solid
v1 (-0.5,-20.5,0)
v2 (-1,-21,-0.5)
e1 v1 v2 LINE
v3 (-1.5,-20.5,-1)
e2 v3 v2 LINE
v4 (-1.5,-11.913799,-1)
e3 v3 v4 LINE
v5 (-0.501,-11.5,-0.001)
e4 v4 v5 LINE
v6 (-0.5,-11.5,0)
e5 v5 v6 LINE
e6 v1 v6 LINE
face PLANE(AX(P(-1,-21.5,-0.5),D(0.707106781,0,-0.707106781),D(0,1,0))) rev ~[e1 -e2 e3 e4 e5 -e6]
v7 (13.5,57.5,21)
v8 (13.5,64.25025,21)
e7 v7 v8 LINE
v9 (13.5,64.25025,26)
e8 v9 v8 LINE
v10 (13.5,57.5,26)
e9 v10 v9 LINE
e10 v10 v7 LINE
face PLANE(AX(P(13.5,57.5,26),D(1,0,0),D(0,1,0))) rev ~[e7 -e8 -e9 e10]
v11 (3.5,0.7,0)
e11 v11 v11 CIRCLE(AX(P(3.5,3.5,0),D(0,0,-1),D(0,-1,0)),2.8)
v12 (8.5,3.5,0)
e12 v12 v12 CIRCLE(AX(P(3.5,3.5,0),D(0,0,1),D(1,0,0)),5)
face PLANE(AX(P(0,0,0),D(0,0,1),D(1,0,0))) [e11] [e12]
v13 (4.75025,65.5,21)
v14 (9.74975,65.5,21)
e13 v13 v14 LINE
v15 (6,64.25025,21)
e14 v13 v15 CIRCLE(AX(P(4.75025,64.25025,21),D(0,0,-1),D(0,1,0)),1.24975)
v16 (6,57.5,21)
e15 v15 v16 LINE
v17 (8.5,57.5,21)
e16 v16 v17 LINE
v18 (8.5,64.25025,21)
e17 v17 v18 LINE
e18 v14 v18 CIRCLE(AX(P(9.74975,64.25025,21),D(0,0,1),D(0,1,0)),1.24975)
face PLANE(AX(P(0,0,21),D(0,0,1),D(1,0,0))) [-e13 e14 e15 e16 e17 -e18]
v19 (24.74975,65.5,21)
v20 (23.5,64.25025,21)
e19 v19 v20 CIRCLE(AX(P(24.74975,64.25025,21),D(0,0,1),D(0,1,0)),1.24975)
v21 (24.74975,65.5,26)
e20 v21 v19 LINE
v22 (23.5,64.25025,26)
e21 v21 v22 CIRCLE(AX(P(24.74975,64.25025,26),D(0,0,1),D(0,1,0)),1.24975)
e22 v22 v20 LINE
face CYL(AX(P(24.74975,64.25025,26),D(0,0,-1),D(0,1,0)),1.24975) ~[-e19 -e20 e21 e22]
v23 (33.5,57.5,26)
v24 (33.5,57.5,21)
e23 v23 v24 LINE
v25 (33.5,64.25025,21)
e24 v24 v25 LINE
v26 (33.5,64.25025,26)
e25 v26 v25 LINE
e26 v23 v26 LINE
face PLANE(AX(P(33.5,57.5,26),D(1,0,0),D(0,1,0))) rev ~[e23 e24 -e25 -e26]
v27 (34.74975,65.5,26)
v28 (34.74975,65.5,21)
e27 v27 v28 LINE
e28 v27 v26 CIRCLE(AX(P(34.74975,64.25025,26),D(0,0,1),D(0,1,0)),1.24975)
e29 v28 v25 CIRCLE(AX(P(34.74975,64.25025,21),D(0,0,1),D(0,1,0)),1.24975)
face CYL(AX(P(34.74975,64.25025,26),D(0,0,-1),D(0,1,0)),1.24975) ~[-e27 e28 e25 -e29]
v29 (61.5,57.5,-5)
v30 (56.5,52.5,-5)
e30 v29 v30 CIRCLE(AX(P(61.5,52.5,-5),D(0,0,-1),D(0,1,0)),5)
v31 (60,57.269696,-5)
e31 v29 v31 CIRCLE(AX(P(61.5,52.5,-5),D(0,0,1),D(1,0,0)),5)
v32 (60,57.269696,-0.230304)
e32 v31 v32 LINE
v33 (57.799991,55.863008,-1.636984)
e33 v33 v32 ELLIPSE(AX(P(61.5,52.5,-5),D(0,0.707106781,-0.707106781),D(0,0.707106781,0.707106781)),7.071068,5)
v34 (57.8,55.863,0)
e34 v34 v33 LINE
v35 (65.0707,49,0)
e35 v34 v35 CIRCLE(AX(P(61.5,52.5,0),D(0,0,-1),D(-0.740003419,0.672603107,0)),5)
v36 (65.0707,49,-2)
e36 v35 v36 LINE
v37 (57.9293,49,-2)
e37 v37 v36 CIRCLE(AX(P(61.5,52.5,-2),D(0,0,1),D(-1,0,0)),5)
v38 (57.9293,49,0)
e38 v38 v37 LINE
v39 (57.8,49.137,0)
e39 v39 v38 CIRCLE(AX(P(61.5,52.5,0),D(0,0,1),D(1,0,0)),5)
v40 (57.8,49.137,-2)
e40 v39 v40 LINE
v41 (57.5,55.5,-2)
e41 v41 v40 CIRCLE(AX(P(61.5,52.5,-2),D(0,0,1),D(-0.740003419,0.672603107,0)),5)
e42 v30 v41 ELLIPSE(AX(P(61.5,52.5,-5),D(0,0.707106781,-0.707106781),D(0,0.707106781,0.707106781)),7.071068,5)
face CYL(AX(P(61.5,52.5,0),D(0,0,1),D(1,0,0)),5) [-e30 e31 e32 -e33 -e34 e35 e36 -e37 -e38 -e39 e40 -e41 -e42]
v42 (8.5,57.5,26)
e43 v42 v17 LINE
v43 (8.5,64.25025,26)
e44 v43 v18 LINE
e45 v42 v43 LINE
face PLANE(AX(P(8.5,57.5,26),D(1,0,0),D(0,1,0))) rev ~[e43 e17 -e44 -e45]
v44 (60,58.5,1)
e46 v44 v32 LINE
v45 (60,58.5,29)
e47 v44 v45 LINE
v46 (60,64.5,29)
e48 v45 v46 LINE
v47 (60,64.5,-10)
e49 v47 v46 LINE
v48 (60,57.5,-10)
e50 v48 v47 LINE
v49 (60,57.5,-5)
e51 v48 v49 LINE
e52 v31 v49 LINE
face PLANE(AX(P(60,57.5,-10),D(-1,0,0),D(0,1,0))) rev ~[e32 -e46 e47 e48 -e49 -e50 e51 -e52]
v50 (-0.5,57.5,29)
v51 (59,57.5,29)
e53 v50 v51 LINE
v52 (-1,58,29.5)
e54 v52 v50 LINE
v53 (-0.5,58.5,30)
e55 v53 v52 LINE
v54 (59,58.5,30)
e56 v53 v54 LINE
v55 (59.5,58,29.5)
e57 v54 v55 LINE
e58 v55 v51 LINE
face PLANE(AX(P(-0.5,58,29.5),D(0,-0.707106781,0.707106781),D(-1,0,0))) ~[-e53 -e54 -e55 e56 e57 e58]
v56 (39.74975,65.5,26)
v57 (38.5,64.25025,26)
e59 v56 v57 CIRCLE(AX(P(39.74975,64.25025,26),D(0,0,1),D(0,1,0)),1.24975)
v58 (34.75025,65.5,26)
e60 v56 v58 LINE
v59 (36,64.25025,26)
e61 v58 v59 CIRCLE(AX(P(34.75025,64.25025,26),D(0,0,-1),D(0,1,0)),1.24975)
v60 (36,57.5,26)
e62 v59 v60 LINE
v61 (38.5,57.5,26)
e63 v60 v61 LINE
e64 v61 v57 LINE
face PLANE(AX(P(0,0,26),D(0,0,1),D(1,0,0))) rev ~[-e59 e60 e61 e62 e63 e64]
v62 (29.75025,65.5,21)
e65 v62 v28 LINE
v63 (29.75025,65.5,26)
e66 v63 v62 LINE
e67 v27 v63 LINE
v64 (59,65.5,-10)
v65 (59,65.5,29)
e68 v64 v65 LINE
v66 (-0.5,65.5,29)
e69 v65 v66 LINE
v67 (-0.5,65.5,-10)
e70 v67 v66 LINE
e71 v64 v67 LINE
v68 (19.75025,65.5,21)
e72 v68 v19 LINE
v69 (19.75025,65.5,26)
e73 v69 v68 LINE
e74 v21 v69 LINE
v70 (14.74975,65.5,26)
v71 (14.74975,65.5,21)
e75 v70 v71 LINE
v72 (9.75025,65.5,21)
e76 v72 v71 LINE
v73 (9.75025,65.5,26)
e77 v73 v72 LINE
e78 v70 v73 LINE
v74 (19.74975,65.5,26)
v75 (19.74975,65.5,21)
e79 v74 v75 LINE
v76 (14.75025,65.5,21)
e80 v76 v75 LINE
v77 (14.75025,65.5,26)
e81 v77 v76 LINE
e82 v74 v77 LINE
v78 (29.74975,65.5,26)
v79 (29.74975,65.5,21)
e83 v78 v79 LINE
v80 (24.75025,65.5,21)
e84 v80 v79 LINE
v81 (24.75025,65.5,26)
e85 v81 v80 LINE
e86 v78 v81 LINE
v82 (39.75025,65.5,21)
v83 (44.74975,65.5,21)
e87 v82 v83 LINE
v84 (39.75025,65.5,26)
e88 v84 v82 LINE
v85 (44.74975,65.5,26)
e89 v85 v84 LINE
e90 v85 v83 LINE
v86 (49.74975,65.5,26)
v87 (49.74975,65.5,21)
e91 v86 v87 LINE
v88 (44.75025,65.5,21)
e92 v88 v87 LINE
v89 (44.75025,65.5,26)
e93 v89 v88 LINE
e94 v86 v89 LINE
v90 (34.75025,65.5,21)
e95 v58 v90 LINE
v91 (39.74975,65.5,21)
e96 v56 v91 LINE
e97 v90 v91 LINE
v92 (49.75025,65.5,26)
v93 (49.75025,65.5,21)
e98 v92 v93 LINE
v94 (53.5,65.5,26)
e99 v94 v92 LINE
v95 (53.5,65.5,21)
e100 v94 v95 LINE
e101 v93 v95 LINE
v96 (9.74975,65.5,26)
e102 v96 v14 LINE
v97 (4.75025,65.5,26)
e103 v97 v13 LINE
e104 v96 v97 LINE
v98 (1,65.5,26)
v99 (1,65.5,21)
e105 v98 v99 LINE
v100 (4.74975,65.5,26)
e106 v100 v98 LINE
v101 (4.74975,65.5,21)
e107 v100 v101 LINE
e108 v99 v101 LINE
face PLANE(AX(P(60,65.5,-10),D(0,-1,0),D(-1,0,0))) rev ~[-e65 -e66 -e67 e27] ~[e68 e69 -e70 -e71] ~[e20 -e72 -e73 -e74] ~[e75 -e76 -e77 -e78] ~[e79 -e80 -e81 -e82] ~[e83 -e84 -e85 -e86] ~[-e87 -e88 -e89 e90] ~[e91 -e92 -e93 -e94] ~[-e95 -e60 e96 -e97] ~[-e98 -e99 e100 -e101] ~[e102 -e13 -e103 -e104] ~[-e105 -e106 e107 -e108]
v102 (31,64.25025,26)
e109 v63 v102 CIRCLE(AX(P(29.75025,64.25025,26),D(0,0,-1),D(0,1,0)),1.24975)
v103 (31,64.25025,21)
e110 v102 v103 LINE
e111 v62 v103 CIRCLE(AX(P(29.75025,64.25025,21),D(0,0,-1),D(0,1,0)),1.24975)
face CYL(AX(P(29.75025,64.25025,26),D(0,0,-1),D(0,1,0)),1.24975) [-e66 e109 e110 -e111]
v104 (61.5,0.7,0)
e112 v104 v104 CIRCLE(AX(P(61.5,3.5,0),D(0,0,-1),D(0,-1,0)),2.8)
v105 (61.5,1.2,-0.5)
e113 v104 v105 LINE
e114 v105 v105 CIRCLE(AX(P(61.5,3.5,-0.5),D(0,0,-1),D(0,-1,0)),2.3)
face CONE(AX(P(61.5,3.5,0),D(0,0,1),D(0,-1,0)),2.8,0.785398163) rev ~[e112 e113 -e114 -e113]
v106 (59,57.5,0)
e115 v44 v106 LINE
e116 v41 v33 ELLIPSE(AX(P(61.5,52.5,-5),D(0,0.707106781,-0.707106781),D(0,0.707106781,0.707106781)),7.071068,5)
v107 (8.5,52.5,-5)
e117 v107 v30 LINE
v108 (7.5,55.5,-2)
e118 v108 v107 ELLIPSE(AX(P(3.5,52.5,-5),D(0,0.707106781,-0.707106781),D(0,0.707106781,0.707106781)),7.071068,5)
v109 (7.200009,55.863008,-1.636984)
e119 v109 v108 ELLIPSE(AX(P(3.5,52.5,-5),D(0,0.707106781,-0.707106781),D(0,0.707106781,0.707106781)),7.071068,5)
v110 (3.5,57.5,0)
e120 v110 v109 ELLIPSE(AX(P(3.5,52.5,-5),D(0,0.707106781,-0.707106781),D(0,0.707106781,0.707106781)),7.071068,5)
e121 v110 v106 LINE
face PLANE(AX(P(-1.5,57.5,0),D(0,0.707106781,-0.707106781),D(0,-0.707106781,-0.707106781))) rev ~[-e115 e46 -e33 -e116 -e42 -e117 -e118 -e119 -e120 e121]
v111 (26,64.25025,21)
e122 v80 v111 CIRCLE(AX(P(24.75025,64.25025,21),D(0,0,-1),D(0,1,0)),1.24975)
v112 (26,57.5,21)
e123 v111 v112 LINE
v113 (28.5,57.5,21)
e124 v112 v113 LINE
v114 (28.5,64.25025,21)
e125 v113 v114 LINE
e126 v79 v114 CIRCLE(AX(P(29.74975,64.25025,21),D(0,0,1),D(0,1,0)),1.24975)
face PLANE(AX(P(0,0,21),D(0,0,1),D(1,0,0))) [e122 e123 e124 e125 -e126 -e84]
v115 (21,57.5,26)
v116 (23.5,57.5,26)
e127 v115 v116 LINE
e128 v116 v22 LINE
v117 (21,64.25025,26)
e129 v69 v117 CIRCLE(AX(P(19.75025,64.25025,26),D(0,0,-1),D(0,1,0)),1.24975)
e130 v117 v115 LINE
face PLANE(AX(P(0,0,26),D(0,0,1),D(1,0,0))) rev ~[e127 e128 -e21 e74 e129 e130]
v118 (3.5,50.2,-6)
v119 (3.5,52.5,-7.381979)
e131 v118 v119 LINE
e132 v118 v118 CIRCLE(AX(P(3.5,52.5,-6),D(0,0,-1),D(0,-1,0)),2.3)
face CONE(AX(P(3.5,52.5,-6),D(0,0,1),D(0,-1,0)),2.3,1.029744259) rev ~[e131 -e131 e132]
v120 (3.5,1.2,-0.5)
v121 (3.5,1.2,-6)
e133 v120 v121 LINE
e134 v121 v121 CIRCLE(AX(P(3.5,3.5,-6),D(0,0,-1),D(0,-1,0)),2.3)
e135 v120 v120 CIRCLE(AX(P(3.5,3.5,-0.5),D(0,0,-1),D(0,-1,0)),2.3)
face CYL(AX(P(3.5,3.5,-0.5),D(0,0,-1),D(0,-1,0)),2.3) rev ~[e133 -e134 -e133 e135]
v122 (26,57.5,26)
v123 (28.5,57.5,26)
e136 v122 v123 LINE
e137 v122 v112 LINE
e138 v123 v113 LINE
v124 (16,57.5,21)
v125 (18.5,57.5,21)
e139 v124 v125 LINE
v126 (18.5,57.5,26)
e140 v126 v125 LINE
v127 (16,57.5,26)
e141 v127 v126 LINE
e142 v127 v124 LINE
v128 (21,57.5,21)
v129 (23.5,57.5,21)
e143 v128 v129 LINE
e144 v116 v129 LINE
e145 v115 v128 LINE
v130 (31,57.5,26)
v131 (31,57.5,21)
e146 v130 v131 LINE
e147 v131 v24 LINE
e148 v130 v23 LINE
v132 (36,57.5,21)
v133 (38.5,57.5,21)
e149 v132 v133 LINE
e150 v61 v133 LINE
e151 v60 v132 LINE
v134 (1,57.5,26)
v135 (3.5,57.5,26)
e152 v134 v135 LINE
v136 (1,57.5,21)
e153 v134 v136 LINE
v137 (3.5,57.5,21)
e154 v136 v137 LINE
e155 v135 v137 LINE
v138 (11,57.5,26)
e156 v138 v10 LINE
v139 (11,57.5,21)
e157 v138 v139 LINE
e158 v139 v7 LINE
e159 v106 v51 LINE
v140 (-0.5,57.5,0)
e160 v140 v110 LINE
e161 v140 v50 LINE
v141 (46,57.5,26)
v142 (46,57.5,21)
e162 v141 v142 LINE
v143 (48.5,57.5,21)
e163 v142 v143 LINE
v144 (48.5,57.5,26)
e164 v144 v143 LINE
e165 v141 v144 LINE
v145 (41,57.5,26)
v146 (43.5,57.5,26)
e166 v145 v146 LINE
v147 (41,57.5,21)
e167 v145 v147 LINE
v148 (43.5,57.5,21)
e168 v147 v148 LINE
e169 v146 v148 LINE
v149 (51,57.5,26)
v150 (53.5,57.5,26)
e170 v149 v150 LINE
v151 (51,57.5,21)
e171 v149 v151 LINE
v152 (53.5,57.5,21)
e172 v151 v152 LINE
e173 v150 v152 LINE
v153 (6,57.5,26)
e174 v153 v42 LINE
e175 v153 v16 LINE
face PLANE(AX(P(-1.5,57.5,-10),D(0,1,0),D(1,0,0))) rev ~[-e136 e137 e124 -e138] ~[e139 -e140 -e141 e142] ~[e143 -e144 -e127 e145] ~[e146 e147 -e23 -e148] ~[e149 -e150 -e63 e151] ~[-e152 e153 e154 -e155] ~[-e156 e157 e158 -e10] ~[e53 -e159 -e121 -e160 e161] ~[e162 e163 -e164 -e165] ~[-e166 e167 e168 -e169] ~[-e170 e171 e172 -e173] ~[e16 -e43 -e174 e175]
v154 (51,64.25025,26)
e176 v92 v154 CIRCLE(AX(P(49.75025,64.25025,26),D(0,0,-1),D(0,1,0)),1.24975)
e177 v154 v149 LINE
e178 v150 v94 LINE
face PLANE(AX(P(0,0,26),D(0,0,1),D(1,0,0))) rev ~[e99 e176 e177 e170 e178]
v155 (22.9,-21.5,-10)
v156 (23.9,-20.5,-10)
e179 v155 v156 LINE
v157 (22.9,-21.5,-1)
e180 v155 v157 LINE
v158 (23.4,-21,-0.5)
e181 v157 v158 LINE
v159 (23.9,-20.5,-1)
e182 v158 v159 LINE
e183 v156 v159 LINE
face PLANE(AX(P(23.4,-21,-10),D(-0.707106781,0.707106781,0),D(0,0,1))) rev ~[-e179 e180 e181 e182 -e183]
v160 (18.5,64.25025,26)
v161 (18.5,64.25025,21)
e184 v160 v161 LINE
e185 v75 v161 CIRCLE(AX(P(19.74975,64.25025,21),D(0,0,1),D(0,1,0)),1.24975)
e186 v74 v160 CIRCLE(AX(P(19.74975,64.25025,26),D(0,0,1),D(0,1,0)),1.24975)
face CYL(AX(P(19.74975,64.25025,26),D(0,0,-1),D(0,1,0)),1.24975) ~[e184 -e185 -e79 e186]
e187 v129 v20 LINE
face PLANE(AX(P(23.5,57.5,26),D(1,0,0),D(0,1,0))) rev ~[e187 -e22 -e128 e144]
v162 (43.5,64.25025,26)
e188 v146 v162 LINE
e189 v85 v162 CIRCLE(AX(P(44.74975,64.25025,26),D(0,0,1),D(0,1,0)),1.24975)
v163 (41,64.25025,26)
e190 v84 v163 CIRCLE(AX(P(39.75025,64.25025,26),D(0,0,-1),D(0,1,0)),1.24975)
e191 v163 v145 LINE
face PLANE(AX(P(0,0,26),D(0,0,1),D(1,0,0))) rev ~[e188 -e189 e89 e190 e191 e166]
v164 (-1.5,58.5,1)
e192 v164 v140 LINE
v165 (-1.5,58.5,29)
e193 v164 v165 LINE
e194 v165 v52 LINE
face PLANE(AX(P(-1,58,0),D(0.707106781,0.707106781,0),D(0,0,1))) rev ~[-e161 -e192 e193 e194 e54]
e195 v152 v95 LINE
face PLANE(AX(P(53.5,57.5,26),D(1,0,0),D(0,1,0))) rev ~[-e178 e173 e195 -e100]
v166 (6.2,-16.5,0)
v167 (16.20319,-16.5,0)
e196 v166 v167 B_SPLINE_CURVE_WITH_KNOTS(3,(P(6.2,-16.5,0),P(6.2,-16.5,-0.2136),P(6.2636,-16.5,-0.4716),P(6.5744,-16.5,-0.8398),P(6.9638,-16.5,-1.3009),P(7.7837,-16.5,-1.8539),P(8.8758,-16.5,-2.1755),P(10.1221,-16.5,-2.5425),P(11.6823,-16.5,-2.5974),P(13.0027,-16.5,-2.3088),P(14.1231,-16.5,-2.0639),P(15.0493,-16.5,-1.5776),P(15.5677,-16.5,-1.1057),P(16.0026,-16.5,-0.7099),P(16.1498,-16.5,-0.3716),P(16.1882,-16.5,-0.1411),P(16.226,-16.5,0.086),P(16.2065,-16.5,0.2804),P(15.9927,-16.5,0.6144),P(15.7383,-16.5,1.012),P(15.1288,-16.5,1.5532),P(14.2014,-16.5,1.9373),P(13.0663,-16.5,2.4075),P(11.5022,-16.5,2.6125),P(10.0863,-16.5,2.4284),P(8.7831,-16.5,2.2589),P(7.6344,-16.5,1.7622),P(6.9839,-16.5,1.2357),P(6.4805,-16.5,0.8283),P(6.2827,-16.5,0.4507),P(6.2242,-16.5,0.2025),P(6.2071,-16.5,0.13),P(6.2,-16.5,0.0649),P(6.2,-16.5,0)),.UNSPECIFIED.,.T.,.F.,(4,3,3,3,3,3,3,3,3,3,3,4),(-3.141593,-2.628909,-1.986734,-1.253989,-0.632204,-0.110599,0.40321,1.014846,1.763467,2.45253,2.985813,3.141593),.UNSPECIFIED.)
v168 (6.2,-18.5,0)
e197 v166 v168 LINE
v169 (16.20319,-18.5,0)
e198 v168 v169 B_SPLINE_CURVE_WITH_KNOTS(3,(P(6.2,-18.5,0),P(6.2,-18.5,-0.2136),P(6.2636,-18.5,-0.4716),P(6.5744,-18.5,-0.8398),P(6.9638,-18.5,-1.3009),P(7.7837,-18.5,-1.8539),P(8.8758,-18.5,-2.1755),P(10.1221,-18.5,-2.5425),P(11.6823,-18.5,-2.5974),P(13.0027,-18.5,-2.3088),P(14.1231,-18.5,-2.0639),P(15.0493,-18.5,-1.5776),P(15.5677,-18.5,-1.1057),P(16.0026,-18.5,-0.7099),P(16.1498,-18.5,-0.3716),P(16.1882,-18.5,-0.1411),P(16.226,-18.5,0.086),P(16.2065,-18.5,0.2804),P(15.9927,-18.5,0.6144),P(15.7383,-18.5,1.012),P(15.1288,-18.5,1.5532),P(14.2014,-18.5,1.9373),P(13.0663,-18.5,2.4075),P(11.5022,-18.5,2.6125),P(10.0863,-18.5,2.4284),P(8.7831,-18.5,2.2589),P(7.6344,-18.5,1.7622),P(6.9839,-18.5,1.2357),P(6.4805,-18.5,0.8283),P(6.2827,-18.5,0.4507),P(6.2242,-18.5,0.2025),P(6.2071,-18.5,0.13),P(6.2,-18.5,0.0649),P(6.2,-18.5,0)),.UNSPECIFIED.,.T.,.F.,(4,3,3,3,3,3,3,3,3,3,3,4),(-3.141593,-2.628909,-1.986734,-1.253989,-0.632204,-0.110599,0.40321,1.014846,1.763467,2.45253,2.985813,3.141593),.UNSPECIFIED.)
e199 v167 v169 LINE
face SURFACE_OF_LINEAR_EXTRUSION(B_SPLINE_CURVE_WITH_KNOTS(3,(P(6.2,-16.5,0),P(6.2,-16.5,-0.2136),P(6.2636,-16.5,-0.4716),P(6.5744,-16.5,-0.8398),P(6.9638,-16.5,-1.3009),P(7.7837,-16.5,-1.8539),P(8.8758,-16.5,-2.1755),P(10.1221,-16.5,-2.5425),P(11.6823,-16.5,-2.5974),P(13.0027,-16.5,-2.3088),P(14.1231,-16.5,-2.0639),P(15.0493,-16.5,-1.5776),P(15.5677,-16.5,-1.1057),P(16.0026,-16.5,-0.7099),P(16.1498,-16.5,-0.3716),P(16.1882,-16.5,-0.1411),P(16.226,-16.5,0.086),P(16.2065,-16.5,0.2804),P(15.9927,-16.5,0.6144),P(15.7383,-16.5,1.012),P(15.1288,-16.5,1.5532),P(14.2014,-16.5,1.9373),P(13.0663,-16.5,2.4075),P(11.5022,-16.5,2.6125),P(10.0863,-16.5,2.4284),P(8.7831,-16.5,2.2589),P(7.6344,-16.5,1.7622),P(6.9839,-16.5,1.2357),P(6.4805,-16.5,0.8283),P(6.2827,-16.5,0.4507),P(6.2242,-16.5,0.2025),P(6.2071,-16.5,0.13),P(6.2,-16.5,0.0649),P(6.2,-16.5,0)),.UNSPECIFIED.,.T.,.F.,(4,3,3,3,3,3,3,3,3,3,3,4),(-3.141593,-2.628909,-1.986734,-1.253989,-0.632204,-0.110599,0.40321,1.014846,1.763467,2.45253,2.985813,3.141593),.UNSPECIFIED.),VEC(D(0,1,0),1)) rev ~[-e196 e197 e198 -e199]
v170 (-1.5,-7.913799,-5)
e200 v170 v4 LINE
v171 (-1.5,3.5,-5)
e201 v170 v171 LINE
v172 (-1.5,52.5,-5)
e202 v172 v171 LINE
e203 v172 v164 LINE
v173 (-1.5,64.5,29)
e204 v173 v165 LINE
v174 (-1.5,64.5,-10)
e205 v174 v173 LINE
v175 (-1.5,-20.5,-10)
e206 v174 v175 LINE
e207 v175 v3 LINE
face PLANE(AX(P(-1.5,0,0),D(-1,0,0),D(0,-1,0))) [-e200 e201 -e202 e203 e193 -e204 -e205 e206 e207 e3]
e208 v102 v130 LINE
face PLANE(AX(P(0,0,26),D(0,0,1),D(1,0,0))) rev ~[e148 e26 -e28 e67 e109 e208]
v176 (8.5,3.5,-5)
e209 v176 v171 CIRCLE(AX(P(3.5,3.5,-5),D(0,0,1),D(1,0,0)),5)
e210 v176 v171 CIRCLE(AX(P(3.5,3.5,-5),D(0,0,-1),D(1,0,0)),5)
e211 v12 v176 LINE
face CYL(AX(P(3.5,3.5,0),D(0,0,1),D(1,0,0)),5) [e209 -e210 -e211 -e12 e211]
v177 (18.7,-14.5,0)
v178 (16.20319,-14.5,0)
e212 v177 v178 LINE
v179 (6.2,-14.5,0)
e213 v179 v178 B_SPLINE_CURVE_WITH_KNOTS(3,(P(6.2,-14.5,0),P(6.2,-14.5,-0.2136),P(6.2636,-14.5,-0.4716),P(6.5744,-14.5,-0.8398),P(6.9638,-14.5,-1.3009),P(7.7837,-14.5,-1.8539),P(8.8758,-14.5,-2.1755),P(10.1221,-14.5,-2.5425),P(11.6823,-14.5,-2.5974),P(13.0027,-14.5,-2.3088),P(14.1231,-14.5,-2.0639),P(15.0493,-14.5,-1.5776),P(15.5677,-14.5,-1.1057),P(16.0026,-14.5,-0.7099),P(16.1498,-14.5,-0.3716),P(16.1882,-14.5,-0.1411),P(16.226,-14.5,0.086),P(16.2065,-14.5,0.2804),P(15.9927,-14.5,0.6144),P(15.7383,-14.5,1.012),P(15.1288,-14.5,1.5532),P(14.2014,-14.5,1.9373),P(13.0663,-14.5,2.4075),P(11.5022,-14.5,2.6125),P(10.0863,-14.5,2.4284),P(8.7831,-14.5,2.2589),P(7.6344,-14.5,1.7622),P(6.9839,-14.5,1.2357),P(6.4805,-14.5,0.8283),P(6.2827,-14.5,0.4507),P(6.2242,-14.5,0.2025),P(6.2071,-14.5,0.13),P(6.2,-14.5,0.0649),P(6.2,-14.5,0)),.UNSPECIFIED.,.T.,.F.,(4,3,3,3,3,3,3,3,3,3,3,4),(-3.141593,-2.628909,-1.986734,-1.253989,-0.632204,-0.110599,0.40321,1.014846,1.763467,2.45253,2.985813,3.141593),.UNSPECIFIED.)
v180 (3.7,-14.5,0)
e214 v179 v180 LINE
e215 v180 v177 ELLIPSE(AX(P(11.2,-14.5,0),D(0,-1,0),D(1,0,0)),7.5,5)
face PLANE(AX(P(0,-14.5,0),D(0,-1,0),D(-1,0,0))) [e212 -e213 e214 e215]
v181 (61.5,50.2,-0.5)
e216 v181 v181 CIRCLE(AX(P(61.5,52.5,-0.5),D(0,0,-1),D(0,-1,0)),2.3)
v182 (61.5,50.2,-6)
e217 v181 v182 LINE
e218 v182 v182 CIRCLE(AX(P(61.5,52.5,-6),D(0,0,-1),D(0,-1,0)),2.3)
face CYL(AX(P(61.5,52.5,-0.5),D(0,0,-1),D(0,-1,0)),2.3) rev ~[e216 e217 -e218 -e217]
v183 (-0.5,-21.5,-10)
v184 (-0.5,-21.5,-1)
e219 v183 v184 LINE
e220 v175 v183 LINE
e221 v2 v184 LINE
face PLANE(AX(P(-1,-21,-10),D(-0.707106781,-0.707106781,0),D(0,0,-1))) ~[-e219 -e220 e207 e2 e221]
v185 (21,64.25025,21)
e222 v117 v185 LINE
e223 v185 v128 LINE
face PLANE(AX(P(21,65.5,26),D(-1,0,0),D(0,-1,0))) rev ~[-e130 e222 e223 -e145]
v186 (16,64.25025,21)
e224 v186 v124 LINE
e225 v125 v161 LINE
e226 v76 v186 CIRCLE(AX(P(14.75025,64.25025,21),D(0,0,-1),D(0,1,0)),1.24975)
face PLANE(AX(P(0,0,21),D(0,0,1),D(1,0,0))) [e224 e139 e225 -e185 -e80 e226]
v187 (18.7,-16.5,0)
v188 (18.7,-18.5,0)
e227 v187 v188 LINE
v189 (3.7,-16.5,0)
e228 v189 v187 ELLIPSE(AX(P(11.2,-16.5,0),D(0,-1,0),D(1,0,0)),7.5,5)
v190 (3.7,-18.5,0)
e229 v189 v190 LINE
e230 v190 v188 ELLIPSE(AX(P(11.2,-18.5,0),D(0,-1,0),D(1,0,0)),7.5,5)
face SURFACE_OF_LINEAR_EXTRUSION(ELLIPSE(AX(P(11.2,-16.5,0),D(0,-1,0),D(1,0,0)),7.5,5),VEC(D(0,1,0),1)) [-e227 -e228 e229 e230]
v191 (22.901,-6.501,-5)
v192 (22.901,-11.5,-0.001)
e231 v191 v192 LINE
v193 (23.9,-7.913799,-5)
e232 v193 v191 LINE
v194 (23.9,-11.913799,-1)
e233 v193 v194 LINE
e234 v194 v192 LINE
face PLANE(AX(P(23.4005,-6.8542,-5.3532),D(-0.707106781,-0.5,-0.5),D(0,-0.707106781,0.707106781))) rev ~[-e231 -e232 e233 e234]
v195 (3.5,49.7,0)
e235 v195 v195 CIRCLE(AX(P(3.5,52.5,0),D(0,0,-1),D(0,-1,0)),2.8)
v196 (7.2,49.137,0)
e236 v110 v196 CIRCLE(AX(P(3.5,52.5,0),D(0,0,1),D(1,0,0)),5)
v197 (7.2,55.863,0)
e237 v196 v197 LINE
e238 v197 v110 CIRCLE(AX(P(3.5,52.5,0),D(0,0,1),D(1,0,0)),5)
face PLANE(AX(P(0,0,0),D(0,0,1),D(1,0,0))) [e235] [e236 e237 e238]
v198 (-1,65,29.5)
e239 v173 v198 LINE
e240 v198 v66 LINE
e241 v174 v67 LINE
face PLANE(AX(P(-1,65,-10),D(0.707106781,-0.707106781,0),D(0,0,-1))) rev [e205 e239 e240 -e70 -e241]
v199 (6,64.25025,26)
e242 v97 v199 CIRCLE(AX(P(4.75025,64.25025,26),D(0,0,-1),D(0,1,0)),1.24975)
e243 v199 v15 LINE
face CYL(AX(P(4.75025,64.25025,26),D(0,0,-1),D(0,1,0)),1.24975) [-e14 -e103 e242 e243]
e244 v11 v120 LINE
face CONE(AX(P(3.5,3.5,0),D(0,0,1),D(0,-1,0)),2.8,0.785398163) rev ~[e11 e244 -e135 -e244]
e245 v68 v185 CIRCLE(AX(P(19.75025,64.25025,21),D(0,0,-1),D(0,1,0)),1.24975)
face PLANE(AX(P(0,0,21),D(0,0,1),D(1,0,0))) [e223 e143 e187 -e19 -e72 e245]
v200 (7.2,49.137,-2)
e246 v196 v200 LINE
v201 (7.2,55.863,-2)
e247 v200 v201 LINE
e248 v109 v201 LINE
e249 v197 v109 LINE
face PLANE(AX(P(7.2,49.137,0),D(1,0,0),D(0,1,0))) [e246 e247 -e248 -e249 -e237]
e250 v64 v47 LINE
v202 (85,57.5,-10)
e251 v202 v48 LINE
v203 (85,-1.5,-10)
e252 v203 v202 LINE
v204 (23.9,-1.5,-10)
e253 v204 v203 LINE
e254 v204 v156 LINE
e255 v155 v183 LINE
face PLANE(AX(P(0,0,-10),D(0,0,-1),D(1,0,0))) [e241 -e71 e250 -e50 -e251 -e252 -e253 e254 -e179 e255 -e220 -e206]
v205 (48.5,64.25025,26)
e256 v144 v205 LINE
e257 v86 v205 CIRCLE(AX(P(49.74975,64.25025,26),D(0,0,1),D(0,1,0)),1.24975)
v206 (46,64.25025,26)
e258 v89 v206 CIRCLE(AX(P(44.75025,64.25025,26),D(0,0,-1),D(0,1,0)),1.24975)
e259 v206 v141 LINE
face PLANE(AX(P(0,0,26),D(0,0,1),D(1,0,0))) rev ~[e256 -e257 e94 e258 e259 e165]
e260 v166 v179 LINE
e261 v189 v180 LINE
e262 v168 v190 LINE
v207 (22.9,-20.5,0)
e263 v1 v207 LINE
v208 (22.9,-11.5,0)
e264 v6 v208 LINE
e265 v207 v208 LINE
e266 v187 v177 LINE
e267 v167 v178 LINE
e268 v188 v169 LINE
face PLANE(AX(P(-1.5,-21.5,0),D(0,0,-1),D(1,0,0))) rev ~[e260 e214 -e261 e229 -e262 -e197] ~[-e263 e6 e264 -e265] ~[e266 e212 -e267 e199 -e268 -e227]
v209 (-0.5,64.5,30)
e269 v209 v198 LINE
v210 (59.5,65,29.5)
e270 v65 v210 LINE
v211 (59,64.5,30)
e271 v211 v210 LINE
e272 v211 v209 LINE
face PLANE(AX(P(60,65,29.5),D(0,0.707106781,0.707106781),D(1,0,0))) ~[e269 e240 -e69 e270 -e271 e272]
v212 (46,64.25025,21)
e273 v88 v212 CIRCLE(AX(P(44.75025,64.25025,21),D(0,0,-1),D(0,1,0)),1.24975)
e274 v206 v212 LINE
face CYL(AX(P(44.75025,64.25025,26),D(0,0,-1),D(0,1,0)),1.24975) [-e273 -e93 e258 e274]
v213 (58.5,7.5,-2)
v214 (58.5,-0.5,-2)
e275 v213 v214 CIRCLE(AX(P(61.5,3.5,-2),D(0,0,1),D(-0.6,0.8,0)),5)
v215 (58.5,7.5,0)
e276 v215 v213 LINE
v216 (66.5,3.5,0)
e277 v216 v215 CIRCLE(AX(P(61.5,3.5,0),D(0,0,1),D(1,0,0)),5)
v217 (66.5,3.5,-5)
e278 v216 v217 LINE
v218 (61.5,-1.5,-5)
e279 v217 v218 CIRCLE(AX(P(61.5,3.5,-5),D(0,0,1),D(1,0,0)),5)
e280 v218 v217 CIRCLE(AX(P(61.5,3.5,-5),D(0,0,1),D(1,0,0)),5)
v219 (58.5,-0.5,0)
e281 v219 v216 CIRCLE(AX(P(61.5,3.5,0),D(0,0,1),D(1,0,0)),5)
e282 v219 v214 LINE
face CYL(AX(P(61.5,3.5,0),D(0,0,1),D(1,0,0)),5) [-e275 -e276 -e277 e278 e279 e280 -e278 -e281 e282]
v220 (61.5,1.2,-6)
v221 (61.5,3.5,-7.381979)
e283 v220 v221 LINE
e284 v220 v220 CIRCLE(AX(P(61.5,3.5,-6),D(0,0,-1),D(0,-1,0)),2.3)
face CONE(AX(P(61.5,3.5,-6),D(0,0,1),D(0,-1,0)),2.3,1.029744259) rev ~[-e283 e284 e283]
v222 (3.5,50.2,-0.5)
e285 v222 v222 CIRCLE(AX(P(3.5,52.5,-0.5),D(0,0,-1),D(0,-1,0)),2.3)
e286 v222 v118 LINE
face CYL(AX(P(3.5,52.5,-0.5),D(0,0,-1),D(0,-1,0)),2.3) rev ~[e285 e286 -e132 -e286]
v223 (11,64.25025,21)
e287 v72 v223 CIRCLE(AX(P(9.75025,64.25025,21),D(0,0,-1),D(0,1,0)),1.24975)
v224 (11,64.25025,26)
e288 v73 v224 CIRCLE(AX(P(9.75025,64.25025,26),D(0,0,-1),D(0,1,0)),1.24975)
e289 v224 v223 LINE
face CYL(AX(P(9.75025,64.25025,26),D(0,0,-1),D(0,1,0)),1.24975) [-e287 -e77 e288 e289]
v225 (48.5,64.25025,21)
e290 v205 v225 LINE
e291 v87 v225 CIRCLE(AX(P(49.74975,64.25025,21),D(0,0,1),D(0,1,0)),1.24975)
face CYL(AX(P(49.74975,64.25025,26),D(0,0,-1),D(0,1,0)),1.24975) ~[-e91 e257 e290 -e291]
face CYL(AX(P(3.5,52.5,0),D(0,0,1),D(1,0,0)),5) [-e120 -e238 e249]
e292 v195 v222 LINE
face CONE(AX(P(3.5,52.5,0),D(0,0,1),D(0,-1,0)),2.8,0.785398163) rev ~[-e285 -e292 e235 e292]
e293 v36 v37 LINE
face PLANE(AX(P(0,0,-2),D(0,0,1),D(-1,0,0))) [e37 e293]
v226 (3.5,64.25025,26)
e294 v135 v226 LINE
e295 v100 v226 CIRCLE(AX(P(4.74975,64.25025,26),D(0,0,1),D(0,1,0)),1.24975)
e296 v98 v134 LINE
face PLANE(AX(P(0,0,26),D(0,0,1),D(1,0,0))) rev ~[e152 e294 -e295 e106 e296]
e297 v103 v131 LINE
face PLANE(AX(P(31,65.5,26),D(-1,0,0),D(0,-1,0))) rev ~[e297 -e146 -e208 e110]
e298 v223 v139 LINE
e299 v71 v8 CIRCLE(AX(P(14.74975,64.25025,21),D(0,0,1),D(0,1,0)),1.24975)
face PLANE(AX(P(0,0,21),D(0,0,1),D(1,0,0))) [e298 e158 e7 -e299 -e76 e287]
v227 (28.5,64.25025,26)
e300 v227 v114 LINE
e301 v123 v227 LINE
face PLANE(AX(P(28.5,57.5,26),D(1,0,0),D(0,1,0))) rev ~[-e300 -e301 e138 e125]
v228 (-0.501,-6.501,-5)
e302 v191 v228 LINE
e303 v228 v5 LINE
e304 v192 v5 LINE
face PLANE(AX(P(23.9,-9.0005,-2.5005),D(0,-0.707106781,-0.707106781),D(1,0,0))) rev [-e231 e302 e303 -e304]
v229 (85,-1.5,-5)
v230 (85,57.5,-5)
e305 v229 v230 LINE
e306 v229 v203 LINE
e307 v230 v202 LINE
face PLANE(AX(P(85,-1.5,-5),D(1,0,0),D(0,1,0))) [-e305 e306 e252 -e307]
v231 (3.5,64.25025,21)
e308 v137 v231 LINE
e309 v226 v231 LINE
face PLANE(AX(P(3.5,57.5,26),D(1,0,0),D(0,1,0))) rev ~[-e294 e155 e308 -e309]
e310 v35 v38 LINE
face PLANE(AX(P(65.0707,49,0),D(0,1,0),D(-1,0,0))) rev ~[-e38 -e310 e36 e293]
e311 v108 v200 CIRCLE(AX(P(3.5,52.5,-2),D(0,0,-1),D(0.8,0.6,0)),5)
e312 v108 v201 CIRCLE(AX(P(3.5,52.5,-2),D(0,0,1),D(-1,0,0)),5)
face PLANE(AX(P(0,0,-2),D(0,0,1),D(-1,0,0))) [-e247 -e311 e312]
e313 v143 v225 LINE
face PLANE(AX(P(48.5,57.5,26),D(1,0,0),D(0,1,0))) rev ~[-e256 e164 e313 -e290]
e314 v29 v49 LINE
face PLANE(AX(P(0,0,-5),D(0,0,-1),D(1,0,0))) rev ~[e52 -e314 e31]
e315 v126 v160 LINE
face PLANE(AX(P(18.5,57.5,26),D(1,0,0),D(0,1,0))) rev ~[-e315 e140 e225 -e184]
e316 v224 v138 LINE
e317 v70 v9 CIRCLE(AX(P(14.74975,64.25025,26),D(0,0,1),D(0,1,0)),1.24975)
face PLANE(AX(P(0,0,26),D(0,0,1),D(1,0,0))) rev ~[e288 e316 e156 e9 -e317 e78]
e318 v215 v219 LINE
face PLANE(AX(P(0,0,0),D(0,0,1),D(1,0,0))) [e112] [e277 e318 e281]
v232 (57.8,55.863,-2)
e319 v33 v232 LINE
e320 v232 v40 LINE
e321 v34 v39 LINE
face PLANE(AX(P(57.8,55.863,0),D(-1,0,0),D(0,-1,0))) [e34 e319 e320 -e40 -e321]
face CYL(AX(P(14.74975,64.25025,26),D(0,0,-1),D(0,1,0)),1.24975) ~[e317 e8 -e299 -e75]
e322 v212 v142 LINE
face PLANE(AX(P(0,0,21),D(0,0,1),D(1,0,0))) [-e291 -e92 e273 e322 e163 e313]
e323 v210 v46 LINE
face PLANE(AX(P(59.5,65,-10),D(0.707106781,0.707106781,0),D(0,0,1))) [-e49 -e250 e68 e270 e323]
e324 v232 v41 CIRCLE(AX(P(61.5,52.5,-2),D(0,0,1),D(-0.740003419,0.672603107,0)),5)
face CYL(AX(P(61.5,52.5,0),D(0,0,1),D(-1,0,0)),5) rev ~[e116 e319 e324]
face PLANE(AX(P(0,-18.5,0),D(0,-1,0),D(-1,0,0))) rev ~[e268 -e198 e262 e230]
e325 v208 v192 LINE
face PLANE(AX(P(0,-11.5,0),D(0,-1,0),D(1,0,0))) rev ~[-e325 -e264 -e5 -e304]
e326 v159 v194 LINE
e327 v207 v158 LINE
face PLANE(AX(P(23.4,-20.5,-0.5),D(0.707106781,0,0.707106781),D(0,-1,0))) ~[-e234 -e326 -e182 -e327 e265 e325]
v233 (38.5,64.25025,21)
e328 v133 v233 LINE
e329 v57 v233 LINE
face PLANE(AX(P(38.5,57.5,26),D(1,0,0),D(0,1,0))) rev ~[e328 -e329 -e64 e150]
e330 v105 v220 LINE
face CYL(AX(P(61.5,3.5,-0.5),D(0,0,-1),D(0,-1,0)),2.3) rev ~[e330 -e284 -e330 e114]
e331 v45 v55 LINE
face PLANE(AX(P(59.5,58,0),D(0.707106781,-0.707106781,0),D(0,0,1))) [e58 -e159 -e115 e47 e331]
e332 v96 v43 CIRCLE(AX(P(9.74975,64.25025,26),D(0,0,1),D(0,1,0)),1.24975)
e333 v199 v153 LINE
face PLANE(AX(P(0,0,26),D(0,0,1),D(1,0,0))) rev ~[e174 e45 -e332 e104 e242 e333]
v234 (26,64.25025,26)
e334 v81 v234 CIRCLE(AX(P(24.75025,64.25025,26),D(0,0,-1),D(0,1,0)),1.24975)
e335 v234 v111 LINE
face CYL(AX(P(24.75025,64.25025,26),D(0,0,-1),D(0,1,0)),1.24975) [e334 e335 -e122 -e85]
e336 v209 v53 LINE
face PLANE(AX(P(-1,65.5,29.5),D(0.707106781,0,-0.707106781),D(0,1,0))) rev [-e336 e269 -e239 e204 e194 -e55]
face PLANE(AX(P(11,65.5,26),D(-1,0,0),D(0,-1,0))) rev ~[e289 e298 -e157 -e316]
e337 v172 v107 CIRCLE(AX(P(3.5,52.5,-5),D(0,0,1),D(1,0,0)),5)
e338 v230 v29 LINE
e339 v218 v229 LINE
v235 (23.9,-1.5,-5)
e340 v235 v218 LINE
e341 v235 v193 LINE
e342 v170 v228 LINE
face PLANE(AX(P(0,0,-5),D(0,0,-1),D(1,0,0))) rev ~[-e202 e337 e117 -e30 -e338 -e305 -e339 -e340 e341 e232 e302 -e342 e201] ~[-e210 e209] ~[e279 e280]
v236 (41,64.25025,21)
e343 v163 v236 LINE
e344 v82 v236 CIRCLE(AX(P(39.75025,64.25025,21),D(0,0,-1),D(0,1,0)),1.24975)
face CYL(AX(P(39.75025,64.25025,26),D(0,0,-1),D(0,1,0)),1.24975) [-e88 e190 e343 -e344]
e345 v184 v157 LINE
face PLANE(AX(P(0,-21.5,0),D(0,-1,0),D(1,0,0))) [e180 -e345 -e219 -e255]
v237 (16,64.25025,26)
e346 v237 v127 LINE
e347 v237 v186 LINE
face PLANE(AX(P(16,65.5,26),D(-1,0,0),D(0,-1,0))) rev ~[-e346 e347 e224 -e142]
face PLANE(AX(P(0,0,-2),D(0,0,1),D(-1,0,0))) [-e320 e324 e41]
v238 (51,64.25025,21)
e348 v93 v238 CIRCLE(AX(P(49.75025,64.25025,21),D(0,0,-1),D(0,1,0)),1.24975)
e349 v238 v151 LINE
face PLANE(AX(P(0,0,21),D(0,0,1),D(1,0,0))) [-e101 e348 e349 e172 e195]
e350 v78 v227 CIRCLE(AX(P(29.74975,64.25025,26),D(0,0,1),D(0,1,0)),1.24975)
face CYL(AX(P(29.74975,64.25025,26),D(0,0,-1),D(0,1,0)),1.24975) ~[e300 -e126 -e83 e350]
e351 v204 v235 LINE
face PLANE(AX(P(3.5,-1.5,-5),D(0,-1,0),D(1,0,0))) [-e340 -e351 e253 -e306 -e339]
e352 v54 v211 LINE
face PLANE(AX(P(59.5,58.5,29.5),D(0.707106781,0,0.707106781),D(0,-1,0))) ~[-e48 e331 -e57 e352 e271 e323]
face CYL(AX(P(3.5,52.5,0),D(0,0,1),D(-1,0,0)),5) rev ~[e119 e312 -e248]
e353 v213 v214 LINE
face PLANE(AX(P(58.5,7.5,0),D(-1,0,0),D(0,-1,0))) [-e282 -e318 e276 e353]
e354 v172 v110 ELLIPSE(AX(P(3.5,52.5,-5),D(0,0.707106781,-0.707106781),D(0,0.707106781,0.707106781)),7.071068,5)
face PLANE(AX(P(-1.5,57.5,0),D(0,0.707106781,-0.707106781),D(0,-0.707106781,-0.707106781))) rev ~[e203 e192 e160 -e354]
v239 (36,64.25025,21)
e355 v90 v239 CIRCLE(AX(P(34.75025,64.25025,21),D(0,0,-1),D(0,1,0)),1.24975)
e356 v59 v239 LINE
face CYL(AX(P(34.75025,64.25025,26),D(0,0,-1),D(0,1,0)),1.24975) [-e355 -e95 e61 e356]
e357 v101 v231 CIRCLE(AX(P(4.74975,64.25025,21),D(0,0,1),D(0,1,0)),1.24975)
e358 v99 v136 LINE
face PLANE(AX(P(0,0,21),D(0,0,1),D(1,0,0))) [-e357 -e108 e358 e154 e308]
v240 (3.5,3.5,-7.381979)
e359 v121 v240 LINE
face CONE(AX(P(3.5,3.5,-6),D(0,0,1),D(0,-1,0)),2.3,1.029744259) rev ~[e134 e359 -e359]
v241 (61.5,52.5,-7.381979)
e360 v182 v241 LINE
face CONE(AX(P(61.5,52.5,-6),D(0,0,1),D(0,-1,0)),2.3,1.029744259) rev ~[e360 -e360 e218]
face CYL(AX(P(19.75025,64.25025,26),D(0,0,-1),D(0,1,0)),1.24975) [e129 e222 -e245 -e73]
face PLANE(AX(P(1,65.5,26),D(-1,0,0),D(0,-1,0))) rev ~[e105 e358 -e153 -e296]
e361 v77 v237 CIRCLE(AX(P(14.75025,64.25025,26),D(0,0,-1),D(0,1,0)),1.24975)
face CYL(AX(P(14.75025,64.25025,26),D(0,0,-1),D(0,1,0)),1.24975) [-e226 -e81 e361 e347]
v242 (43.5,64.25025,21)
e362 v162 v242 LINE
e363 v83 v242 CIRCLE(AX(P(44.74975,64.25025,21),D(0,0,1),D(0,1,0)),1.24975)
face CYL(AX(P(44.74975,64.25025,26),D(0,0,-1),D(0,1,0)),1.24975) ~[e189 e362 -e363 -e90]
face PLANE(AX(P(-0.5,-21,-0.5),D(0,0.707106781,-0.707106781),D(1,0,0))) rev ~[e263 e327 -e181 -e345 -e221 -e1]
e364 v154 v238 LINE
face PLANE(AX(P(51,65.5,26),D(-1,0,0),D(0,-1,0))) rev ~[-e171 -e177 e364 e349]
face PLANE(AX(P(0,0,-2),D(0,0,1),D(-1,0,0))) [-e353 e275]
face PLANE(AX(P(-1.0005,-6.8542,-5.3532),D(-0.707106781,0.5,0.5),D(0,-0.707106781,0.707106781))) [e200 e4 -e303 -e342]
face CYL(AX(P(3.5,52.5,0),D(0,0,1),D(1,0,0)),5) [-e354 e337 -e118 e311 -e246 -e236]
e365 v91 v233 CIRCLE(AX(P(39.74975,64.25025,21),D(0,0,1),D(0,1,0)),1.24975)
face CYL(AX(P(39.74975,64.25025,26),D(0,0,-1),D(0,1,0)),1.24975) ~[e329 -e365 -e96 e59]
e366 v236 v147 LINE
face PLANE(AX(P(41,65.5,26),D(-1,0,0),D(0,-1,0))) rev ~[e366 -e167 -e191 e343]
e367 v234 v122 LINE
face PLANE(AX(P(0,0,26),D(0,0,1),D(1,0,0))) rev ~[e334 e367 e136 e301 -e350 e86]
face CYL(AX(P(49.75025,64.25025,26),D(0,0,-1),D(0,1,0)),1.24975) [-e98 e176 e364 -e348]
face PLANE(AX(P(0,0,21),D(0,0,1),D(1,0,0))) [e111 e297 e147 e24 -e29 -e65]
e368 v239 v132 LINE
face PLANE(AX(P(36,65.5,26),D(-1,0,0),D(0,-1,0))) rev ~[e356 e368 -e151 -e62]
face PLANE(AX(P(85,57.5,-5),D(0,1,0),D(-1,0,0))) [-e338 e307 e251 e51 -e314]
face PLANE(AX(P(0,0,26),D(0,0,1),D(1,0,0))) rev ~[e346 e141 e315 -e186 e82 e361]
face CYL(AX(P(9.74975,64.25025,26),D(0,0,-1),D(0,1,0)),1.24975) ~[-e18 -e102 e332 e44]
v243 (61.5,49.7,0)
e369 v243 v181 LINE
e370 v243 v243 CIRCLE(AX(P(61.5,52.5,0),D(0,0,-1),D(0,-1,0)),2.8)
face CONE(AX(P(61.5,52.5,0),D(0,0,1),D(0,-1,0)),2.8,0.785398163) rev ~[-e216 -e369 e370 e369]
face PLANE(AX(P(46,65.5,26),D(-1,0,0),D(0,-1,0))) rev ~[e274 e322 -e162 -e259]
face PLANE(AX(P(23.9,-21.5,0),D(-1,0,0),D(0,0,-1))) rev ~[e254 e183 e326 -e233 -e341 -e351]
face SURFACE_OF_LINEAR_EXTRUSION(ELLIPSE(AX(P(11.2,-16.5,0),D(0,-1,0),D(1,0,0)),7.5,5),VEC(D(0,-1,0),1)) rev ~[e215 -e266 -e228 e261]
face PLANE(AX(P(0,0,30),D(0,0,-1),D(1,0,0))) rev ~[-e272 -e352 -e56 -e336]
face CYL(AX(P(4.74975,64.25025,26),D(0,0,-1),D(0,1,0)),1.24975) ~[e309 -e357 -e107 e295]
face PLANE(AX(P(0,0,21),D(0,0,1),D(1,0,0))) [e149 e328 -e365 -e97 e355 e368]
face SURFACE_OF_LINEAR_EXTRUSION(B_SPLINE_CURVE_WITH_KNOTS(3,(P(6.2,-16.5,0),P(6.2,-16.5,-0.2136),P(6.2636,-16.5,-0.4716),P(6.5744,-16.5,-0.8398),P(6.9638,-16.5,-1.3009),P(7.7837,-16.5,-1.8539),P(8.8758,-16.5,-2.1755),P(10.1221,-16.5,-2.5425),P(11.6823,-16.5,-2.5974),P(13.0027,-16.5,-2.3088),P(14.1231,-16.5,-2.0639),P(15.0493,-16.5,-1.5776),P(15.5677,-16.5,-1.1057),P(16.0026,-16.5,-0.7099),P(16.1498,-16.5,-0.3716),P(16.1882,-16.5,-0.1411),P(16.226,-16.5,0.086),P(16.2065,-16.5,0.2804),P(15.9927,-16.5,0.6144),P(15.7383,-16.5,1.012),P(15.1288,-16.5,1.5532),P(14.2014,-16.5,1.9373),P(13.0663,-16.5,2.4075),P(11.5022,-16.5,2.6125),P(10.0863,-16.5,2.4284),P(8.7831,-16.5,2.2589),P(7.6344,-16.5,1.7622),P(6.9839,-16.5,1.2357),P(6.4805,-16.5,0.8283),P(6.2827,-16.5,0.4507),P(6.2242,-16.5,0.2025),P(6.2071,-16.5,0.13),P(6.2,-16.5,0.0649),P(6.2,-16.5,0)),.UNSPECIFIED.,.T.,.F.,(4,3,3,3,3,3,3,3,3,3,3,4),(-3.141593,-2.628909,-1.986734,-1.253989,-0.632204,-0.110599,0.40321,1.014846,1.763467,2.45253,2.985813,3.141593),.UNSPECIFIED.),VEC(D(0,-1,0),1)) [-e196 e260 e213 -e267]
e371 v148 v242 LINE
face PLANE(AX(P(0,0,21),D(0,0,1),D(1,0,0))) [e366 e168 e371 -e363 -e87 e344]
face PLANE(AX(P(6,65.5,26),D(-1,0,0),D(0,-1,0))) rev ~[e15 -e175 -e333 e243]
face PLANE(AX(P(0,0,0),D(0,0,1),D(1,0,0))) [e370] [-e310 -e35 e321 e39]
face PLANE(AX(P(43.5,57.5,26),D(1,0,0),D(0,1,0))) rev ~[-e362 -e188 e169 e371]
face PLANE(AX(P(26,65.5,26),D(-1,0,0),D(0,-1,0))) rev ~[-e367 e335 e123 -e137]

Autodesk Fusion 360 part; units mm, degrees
sketch "Sketch1" plane through (0, 0, 0) normal (0, 0, 1) x (1, 0, 0)
  line L0 (0, 0) -> (85, 0) construction
  line L1 (85, 0) -> (85, 56) construction
  line L2 (85, 56) -> (0, 56) construction
  line L3 (0, 56) -> (0, 0) construction
  line L4 (61.5, 3.5) -> (3.5, 3.5) construction
  line L5 (3.5, 3.5) -> (3.5, 52.5) construction
  line L6 (3.5, 52.5) -> (61.5, 52.5) construction
  line L7 (61.5, 52.5) -> (61.5, 3.5) construction
  line L8 (61.5, 3.5) -> (3.5, 52.5) construction
  line L9 (3.5, 3.5) -> (61.5, 52.5) construction
  circle A0 centre (3.5, 52.5) radius 5
  circle A1 centre (61.5, 52.5) radius 5
  circle A2 centre (61.5, 3.5) radius 5
  circle A3 centre (3.5, 3.5) radius 5
  point P0 (32.5, 28)
  dimension "d1" = 85
  dimension "d2" = 56
  dimension "d3" = 3.5
  dimension "d4" = 3.5
  dimension "d5" = 3.5
  dimension "d6" = 58
  dimension "d7" = 10
extrude "Extrude1" add sketch "Sketch1" against normal blind 5 makes body 1 at (66.4938, 52.2508, -3.3333) makes body 2 at (66.4938, 3.2508, -3.3333) makes body 3 at (8.4938, 52.2508, -3.3333) makes body 4 at (8.4938, 3.2508, -3.3333)
sketch "Sketch2" plane through (0, 0, -5) normal (0, 0, -1) x (1, 0, 0)
  circle A0 centre (3.5, -3.5) radius 5
  circle A1 centre (61.5, -3.5) radius 5
  circle A2 centre (61.5, -52.5) radius 5
  circle A3 centre (3.5, -52.5) radius 5
  line L0 (-1.5, 1.5) -> (85, 1.5)
  line L1 (85, 1.5) -> (85, -57.5)
  line L2 (85, -57.5) -> (-1.5, -57.5)
  line L3 (-1.5, -57.5) -> (-1.5, 1.5)
  line L4 (85, 0) -> (85, -56)
  circle A4 centre (3.5, -3.5) radius 5
  circle A5 centre (3.5, -52.5) radius 5
extrude "Extrude2" add sketch "Sketch2" along normal blind 5 contours A0 A4 | A2 | A1 | A0 A3 L0 L1 L2 L3 L4 A4 A5 | A0 L0 L3 A4 | A3 A5 | A3 L2 L3 A5 bodies 1 2 3 4
sketch "Sketch4" plane through (0, 0, -10) normal (0, 0, -1) x (1, 0, 0)
  line L0 (85, -57.5) -> (85, 1.5)
  line L1 (85, 1.5) -> (-1.5, 1.5)
  line L2 (-1.5, 1.5) -> (-1.5, -57.5)
  line L3 (-1.5, -57.5) -> (85, -57.5)
  line L4 (-1.5, -57.5) -> (60, -57.5)
  line L5 (60, -57.5) -> (60, -65.5)
  line L6 (60, -65.5) -> (-1.5, -65.5)
  line L7 (-1.5, -65.5) -> (-1.5, -57.5)
  dimension "d17" = 61.5
  dimension "d18" = 8
extrude "Extrude3" add sketch "Sketch4" against normal blind 40 contours L3 L4 L5 L6 L7 bodies 1
ref_plane "WorkPlane1" through (29.25, 61.5, 26) normal (0, 0, 1) x (1, 0, 0)
sketch "Sketch5" plane through (0, 0, 26) normal (0, 0, 1) x (1, 0, 0)
  line L0 (60, 65.5) -> (-1.5, 65.5)
  line L1 (-1.5, 65.5) -> (-1.5, 57.5)
  line L2 (-1.5, 57.5) -> (60, 57.5)
  line L3 (60, 57.5) -> (60, 65.5)
  line L4 (1, 57.5) -> (3.5, 57.5)
  line L5 (3.5, 57.5) -> (3.5, 65.5)
  line L6 (3.5, 65.5) -> (1, 65.5)
  line L7 (1, 65.5) -> (1, 57.5)
  line L8 (8.5, 57.5) -> (8.5, 65.5)
  line L9 (6, 65.5) -> (6, 57.5)
  line L10 (8.5, 65.5) -> (6, 65.5)
  line L11 (6, 57.5) -> (8.5, 57.5)
  line L12 (13.5, 57.5) -> (13.5, 65.5)
  line L13 (11, 65.5) -> (11, 57.5)
  line L14 (13.5, 65.5) -> (11, 65.5)
  line L15 (11, 57.5) -> (13.5, 57.5)
  line L16 (18.5, 57.5) -> (18.5, 65.5)
  line L17 (16, 65.5) -> (16, 57.5)
  line L18 (18.5, 65.5) -> (16, 65.5)
  line L19 (16, 57.5) -> (18.5, 57.5)
  line L20 (23.5, 57.5) -> (23.5, 65.5)
  line L21 (21, 65.5) -> (21, 57.5)
  line L22 (23.5, 65.5) -> (21, 65.5)
  line L23 (21, 57.5) -> (23.5, 57.5)
  line L24 (28.5, 57.5) -> (28.5, 65.5)
  line L25 (26, 65.5) -> (26, 57.5)
  line L26 (28.5, 65.5) -> (26, 65.5)
  line L27 (26, 57.5) -> (28.5, 57.5)
  line L28 (33.5, 57.5) -> (33.5, 65.5)
  line L29 (31, 65.5) -> (31, 57.5)
  line L30 (33.5, 65.5) -> (31, 65.5)
  line L31 (31, 57.5) -> (33.5, 57.5)
  line L32 (38.5, 57.5) -> (38.5, 65.5)
  line L33 (36, 65.5) -> (36, 57.5)
  line L34 (38.5, 65.5) -> (36, 65.5)
  line L35 (36, 57.5) -> (38.5, 57.5)
  line L36 (43.5, 57.5) -> (43.5, 65.5)
  line L37 (41, 65.5) -> (41, 57.5)
  line L38 (43.5, 65.5) -> (41, 65.5)
  line L39 (41, 57.5) -> (43.5, 57.5)
  line L40 (48.5, 57.5) -> (48.5, 65.5)
  line L41 (46, 65.5) -> (46, 57.5)
  line L42 (48.5, 65.5) -> (46, 65.5)
  line L43 (46, 57.5) -> (48.5, 57.5)
  line L44 (53.5, 57.5) -> (53.5, 65.5)
  line L45 (51, 65.5) -> (51, 57.5)
  line L46 (53.5, 65.5) -> (51, 65.5)
  line L47 (51, 57.5) -> (53.5, 57.5)
  dimension "d22" = 2.5
  dimension "d23" = 2.5
  dimension "d26" = 5
  dimension "d27" = 0
extrude "Extrude4" cut sketch "Sketch5" against normal blind 5 contours L0 L2 L44 L45 L46 L47 | L0 L2 L40 L41 L42 L43 | L0 L2 L36 L37 L38 L39 | L0 L2 L32 L33 L34 L35 | L0 L2 L28 L29 L30 L31 | L0 L2 L24 L25 L26 L27 | L0 L2 L20 L21 L22 L23 | L0 L2 L16 L17 L18 L19 | L0 L2 L12 L13 L14 L15 | L0 L2 L8 L9 L10 L11 | L0 L2 L4 L5 L6 L7 bodies 1
fillet "Fillet1" radius 1.25 20 edges at (3.5, 65.5, 23.5) (6, 65.5, 23.5) (8.5, 65.5, 23.5) (11, 65.5, 23.5) (13.5, 65.5, 23.5) (16, 65.5, 23.5) (18.5, 65.5, 23.5) (21, 65.5, 23.5) (23.5, 65.5, 23.5) (26, 65.5, 23.5) (28.5, 65.5, 23.5) (31, 65.5, 23.5) (33.5, 65.5, 23.5) (36, 65.5, 23.5) (38.5, 65.5, 23.5) (41, 65.5, 23.5) (43.5, 65.5, 23.5) (46, 65.5, 23.5) (48.5, 65.5, 23.5) (51, 65.5, 23.5) on bodies 1
sketch "Sketch6" plane through (0, 0, -10) normal (0, 0, -1) x (1, 0, 0)
  line L0 (60, -65.5) -> (60, -57.5)
  line L1 (60, -57.5) -> (85, -57.5)
  line L2 (85, -57.5) -> (85, 1.5)
  line L3 (85, 1.5) -> (-1.5, 1.5)
  line L4 (-1.5, 1.5) -> (-1.5, -65.5)
  line L5 (-1.5, -65.5) -> (60, -65.5)
  line L6 (-1.5, 1.5) -> (23.9, 1.5)
  line L7 (23.9, 1.5) -> (23.9, 21.5)
  line L8 (23.9, 21.5) -> (-1.5, 21.5)
  line L9 (-1.5, 21.5) -> (-1.5, 1.5)
  line L10 (11.2, 21.5) -> (11.2, 1.5) construction
  circle A0 centre (3.5, -3.5) radius 5 construction
  dimension "d33" = 7.7
  dimension "d34" = 12.7
  dimension "d35" = 12.7
  dimension "d36" = 20
extrude "Extrude5" add sketch "Sketch6" against normal blind 5 contours L3 L6 L7 L8 L9 bodies 1
sketch "Sketch7" plane through (0, -21.5, 0) normal (0, -1, 0) x (1, 0, 0)
  line L0 (-1.5, -10) -> (23.9, -10)
  line L1 (23.9, -10) -> (23.9, -5)
  line L2 (23.9, -5) -> (-1.5, -5)
  line L3 (-1.5, -5) -> (-1.5, -10)
  line L4 (23.9, -5) -> (-1.5, -5)
  line L5 (-1.5, -5) -> (-1.5, 0)
  line L6 (-1.5, 0) -> (23.9, 0)
  line L7 (23.9, 0) -> (23.9, -5)
  dimension "d39" = 5
extrude "Extrude6" add sketch "Sketch7" against normal blind 10 contours L2 L4 L5 L6 L7 bodies 1
ref_plane "WorkPlane2" through (11.2, -16.5, -5) normal (0, -1, 0) x (1, 0, 0)
sketch "Sketch8" plane through (0, -16.5, 0) normal (0, -1, 0) x (-1, 0, 0)
  line L0 (1.5, 0) -> (-23.9, 0)
  line L1 (-23.9, 0) -> (1.5, 0)
  ellipse E0 centre (-11.2, 0) end of major axis (-18.7, 0) minor radius 5
  line L2 (-3.7, 0) -> (-18.7, 0) construction
  line L3 (-11.2, 5) -> (-11.2, -5) construction
  spline S0 degree 3 poles (-6.2, 0) (-6.2, 0.2136) (-6.2636, 0.4716) (-6.5744, 0.8398) (-6.9638, 1.3009) (-7.7837, 1.8539) (-8.8758, 2.1755) (-10.1221, 2.5425) (-11.6823, 2.5974) (-13.0027, 2.3088) (-14.1231, 2.0639) (-15.0493, 1.5776) (-15.5677, 1.1057) (-16.0026, 0.7099) (-16.1498, 0.3716) (-16.1882, 0.1411) (-16.226, -0.086) (-16.2065, -0.2804) (-15.9927, -0.6144) (-15.7383, -1.012) (-15.1288, -1.5532) (-14.2014, -1.9373) (-13.0663, -2.4075) (-11.5022, -2.6125) (-10.0863, -2.4284) (-8.7831, -2.2589) (-7.6344, -1.7622) (-6.9839, -1.2357) (-6.4805, -0.8283) (-6.2827, -0.4507) (-6.2242, -0.2025) (-6.2071, -0.13) (-6.2, -0.0649) (-6.2, 0) knots -3.141593 -3.141593 -3.141593 -3.141593 -2.628909 -2.628909 -2.628909 -1.986734 -1.986734 -1.986734 -1.253989 -1.253989 -1.253989 -0.632204 -0.632204 -0.632204 -0.110599 -0.110599 -0.110599 0.40321 0.40321 0.40321 1.014846 1.014846 1.014846 1.763467 1.763467 1.763467 2.45253 2.45253 2.45253 2.985813 2.985813 2.985813 3.141593 3.141593 3.141593 3.141593
  dimension "d42" = 15
  dimension "d43" = 10
  dimension "d55" = -2.5
extrude "Extrude10" cut sketch "Sketch8" along normal mid plane 4 contours L0 L1 E0 S0 | L0 L1 E0 S0 bodies 1
chamfer "Chamfer2" distance 5 angle 45 1 edges at (11.2, -11.5, -5) on bodies 1
sketch "Sketch9" plane through (-1.5, 0, 0) normal (-1, 0, 0) x (0, -1, 0)
  line L0 (-52.5, -5) -> (-57.5, -5)
  line L1 (-57.5, -5) -> (-57.5, 30)
  line L2 (-57.5, 30) -> (-65.5, 30)
  line L3 (-65.5, 30) -> (-65.5, -10)
  line L4 (-65.5, -10) -> (21.5, -10)
  line L5 (21.5, -10) -> (21.5, 0)
  line L6 (21.5, 0) -> (11.5, 0)
  line L7 (6.5, -5) -> (-3.5, -5)
  line L8 (-3.5, -5) -> (-52.5, -5)
  line L9 (-57.5, 0) -> (-52.5, -5)
  line L10 (11.5, 0) -> (6.5, -5)
  dimension "d51" = 45
  dimension "d52" = 5
extrude "Extrude9" add sketch "Sketch9" against normal up to surface (61.5 mm away) contours L0 L1 L9 bodies 1
sketch "Sketch3" plane through (0, 0, 0) normal (0, 0, 1) x (-1, 0, 0)
  circle A0 centre (-3.5, -52.5) radius 5
  circle A1 centre (-3.5, -3.5) radius 5
  circle A2 centre (-61.5, -3.5) radius 5
  circle A3 centre (-61.5, -52.5) radius 5
hole "Hole1" at (3.5, 52.5, 0) at (61.5, 52.5, 0) at (61.5, 3.5, 0) at (3.5, 3.5, 0) direction (0, 0, -1) diameter 4.6 depth 6 tip angle 118 countersink diameter 5.6 countersink angle 90 bodies 1
chamfer "Chamfer1" distance 1 angle 45 15 edges at (-1.5, 61.5, 30) (-1.5, 65.5, 10) (-1.5, 57.5, 15) (29.25, 57.5, 30) (29.25, 65.5, 30) (60, 61.5, 30) (60, 65.5, 10) (60, 57.5, 15) (-1.5, -16.5, 0) (-1.5, -9, -2.5) (-1.5, -21.5, -5) (11.2, -21.5, 0) (23.9, -16.5, 0) (23.9, -21.5, -5) (23.9, -9, -2.5) on bodies 1
sketch "Sketch10" plane through (0, 0, 0) normal (0, 0, 1) x (-1, 0, 0)
  circle A0 centre (-3.5, -52.5) radius 2.8
  circle A1 centre (-3.5, -52.5) radius 5
  circle A2 centre (-61.5, -3.5) radius 2.8
  circle A3 centre (-61.5, -3.5) radius 5
  circle A4 centre (-61.5, -52.5) radius 2.8
  circle A5 centre (-61.5, -52.5) radius 5
  circle A6 centre (-3.5, -3.5) radius 2.8
  circle A7 centre (-3.5, -3.5) radius 5
  line L0 (-7.2, -49.137) -> (-7.2, -55.863)
  line L1 (-57.8, -55.863) -> (-57.8, -49.137)
  line L2 (-65.0707, -49) -> (-57.9293, -49)
  line L3 (-58.5, -7.5) -> (-58.5, 0.5)
  dimension "d58" = 3.7
  dimension "d59" = 3.7
  dimension "d60" = 3.5
  dimension "d61" = 3
extrude "Extrude11" cut sketch "Sketch10" against normal blind 2 contours A1 L0 | A3 L3 | A5 L1 | A5 L2 picked at (-7.3514, -51.5725) picked at (-57.5568, -3.0636) bodies 1
equation "d17 = 58 mm + 3.5 mm"
equation "d31 = ( 2.5 / 2 ) * 1 mm"
equation "d35 = d34"
